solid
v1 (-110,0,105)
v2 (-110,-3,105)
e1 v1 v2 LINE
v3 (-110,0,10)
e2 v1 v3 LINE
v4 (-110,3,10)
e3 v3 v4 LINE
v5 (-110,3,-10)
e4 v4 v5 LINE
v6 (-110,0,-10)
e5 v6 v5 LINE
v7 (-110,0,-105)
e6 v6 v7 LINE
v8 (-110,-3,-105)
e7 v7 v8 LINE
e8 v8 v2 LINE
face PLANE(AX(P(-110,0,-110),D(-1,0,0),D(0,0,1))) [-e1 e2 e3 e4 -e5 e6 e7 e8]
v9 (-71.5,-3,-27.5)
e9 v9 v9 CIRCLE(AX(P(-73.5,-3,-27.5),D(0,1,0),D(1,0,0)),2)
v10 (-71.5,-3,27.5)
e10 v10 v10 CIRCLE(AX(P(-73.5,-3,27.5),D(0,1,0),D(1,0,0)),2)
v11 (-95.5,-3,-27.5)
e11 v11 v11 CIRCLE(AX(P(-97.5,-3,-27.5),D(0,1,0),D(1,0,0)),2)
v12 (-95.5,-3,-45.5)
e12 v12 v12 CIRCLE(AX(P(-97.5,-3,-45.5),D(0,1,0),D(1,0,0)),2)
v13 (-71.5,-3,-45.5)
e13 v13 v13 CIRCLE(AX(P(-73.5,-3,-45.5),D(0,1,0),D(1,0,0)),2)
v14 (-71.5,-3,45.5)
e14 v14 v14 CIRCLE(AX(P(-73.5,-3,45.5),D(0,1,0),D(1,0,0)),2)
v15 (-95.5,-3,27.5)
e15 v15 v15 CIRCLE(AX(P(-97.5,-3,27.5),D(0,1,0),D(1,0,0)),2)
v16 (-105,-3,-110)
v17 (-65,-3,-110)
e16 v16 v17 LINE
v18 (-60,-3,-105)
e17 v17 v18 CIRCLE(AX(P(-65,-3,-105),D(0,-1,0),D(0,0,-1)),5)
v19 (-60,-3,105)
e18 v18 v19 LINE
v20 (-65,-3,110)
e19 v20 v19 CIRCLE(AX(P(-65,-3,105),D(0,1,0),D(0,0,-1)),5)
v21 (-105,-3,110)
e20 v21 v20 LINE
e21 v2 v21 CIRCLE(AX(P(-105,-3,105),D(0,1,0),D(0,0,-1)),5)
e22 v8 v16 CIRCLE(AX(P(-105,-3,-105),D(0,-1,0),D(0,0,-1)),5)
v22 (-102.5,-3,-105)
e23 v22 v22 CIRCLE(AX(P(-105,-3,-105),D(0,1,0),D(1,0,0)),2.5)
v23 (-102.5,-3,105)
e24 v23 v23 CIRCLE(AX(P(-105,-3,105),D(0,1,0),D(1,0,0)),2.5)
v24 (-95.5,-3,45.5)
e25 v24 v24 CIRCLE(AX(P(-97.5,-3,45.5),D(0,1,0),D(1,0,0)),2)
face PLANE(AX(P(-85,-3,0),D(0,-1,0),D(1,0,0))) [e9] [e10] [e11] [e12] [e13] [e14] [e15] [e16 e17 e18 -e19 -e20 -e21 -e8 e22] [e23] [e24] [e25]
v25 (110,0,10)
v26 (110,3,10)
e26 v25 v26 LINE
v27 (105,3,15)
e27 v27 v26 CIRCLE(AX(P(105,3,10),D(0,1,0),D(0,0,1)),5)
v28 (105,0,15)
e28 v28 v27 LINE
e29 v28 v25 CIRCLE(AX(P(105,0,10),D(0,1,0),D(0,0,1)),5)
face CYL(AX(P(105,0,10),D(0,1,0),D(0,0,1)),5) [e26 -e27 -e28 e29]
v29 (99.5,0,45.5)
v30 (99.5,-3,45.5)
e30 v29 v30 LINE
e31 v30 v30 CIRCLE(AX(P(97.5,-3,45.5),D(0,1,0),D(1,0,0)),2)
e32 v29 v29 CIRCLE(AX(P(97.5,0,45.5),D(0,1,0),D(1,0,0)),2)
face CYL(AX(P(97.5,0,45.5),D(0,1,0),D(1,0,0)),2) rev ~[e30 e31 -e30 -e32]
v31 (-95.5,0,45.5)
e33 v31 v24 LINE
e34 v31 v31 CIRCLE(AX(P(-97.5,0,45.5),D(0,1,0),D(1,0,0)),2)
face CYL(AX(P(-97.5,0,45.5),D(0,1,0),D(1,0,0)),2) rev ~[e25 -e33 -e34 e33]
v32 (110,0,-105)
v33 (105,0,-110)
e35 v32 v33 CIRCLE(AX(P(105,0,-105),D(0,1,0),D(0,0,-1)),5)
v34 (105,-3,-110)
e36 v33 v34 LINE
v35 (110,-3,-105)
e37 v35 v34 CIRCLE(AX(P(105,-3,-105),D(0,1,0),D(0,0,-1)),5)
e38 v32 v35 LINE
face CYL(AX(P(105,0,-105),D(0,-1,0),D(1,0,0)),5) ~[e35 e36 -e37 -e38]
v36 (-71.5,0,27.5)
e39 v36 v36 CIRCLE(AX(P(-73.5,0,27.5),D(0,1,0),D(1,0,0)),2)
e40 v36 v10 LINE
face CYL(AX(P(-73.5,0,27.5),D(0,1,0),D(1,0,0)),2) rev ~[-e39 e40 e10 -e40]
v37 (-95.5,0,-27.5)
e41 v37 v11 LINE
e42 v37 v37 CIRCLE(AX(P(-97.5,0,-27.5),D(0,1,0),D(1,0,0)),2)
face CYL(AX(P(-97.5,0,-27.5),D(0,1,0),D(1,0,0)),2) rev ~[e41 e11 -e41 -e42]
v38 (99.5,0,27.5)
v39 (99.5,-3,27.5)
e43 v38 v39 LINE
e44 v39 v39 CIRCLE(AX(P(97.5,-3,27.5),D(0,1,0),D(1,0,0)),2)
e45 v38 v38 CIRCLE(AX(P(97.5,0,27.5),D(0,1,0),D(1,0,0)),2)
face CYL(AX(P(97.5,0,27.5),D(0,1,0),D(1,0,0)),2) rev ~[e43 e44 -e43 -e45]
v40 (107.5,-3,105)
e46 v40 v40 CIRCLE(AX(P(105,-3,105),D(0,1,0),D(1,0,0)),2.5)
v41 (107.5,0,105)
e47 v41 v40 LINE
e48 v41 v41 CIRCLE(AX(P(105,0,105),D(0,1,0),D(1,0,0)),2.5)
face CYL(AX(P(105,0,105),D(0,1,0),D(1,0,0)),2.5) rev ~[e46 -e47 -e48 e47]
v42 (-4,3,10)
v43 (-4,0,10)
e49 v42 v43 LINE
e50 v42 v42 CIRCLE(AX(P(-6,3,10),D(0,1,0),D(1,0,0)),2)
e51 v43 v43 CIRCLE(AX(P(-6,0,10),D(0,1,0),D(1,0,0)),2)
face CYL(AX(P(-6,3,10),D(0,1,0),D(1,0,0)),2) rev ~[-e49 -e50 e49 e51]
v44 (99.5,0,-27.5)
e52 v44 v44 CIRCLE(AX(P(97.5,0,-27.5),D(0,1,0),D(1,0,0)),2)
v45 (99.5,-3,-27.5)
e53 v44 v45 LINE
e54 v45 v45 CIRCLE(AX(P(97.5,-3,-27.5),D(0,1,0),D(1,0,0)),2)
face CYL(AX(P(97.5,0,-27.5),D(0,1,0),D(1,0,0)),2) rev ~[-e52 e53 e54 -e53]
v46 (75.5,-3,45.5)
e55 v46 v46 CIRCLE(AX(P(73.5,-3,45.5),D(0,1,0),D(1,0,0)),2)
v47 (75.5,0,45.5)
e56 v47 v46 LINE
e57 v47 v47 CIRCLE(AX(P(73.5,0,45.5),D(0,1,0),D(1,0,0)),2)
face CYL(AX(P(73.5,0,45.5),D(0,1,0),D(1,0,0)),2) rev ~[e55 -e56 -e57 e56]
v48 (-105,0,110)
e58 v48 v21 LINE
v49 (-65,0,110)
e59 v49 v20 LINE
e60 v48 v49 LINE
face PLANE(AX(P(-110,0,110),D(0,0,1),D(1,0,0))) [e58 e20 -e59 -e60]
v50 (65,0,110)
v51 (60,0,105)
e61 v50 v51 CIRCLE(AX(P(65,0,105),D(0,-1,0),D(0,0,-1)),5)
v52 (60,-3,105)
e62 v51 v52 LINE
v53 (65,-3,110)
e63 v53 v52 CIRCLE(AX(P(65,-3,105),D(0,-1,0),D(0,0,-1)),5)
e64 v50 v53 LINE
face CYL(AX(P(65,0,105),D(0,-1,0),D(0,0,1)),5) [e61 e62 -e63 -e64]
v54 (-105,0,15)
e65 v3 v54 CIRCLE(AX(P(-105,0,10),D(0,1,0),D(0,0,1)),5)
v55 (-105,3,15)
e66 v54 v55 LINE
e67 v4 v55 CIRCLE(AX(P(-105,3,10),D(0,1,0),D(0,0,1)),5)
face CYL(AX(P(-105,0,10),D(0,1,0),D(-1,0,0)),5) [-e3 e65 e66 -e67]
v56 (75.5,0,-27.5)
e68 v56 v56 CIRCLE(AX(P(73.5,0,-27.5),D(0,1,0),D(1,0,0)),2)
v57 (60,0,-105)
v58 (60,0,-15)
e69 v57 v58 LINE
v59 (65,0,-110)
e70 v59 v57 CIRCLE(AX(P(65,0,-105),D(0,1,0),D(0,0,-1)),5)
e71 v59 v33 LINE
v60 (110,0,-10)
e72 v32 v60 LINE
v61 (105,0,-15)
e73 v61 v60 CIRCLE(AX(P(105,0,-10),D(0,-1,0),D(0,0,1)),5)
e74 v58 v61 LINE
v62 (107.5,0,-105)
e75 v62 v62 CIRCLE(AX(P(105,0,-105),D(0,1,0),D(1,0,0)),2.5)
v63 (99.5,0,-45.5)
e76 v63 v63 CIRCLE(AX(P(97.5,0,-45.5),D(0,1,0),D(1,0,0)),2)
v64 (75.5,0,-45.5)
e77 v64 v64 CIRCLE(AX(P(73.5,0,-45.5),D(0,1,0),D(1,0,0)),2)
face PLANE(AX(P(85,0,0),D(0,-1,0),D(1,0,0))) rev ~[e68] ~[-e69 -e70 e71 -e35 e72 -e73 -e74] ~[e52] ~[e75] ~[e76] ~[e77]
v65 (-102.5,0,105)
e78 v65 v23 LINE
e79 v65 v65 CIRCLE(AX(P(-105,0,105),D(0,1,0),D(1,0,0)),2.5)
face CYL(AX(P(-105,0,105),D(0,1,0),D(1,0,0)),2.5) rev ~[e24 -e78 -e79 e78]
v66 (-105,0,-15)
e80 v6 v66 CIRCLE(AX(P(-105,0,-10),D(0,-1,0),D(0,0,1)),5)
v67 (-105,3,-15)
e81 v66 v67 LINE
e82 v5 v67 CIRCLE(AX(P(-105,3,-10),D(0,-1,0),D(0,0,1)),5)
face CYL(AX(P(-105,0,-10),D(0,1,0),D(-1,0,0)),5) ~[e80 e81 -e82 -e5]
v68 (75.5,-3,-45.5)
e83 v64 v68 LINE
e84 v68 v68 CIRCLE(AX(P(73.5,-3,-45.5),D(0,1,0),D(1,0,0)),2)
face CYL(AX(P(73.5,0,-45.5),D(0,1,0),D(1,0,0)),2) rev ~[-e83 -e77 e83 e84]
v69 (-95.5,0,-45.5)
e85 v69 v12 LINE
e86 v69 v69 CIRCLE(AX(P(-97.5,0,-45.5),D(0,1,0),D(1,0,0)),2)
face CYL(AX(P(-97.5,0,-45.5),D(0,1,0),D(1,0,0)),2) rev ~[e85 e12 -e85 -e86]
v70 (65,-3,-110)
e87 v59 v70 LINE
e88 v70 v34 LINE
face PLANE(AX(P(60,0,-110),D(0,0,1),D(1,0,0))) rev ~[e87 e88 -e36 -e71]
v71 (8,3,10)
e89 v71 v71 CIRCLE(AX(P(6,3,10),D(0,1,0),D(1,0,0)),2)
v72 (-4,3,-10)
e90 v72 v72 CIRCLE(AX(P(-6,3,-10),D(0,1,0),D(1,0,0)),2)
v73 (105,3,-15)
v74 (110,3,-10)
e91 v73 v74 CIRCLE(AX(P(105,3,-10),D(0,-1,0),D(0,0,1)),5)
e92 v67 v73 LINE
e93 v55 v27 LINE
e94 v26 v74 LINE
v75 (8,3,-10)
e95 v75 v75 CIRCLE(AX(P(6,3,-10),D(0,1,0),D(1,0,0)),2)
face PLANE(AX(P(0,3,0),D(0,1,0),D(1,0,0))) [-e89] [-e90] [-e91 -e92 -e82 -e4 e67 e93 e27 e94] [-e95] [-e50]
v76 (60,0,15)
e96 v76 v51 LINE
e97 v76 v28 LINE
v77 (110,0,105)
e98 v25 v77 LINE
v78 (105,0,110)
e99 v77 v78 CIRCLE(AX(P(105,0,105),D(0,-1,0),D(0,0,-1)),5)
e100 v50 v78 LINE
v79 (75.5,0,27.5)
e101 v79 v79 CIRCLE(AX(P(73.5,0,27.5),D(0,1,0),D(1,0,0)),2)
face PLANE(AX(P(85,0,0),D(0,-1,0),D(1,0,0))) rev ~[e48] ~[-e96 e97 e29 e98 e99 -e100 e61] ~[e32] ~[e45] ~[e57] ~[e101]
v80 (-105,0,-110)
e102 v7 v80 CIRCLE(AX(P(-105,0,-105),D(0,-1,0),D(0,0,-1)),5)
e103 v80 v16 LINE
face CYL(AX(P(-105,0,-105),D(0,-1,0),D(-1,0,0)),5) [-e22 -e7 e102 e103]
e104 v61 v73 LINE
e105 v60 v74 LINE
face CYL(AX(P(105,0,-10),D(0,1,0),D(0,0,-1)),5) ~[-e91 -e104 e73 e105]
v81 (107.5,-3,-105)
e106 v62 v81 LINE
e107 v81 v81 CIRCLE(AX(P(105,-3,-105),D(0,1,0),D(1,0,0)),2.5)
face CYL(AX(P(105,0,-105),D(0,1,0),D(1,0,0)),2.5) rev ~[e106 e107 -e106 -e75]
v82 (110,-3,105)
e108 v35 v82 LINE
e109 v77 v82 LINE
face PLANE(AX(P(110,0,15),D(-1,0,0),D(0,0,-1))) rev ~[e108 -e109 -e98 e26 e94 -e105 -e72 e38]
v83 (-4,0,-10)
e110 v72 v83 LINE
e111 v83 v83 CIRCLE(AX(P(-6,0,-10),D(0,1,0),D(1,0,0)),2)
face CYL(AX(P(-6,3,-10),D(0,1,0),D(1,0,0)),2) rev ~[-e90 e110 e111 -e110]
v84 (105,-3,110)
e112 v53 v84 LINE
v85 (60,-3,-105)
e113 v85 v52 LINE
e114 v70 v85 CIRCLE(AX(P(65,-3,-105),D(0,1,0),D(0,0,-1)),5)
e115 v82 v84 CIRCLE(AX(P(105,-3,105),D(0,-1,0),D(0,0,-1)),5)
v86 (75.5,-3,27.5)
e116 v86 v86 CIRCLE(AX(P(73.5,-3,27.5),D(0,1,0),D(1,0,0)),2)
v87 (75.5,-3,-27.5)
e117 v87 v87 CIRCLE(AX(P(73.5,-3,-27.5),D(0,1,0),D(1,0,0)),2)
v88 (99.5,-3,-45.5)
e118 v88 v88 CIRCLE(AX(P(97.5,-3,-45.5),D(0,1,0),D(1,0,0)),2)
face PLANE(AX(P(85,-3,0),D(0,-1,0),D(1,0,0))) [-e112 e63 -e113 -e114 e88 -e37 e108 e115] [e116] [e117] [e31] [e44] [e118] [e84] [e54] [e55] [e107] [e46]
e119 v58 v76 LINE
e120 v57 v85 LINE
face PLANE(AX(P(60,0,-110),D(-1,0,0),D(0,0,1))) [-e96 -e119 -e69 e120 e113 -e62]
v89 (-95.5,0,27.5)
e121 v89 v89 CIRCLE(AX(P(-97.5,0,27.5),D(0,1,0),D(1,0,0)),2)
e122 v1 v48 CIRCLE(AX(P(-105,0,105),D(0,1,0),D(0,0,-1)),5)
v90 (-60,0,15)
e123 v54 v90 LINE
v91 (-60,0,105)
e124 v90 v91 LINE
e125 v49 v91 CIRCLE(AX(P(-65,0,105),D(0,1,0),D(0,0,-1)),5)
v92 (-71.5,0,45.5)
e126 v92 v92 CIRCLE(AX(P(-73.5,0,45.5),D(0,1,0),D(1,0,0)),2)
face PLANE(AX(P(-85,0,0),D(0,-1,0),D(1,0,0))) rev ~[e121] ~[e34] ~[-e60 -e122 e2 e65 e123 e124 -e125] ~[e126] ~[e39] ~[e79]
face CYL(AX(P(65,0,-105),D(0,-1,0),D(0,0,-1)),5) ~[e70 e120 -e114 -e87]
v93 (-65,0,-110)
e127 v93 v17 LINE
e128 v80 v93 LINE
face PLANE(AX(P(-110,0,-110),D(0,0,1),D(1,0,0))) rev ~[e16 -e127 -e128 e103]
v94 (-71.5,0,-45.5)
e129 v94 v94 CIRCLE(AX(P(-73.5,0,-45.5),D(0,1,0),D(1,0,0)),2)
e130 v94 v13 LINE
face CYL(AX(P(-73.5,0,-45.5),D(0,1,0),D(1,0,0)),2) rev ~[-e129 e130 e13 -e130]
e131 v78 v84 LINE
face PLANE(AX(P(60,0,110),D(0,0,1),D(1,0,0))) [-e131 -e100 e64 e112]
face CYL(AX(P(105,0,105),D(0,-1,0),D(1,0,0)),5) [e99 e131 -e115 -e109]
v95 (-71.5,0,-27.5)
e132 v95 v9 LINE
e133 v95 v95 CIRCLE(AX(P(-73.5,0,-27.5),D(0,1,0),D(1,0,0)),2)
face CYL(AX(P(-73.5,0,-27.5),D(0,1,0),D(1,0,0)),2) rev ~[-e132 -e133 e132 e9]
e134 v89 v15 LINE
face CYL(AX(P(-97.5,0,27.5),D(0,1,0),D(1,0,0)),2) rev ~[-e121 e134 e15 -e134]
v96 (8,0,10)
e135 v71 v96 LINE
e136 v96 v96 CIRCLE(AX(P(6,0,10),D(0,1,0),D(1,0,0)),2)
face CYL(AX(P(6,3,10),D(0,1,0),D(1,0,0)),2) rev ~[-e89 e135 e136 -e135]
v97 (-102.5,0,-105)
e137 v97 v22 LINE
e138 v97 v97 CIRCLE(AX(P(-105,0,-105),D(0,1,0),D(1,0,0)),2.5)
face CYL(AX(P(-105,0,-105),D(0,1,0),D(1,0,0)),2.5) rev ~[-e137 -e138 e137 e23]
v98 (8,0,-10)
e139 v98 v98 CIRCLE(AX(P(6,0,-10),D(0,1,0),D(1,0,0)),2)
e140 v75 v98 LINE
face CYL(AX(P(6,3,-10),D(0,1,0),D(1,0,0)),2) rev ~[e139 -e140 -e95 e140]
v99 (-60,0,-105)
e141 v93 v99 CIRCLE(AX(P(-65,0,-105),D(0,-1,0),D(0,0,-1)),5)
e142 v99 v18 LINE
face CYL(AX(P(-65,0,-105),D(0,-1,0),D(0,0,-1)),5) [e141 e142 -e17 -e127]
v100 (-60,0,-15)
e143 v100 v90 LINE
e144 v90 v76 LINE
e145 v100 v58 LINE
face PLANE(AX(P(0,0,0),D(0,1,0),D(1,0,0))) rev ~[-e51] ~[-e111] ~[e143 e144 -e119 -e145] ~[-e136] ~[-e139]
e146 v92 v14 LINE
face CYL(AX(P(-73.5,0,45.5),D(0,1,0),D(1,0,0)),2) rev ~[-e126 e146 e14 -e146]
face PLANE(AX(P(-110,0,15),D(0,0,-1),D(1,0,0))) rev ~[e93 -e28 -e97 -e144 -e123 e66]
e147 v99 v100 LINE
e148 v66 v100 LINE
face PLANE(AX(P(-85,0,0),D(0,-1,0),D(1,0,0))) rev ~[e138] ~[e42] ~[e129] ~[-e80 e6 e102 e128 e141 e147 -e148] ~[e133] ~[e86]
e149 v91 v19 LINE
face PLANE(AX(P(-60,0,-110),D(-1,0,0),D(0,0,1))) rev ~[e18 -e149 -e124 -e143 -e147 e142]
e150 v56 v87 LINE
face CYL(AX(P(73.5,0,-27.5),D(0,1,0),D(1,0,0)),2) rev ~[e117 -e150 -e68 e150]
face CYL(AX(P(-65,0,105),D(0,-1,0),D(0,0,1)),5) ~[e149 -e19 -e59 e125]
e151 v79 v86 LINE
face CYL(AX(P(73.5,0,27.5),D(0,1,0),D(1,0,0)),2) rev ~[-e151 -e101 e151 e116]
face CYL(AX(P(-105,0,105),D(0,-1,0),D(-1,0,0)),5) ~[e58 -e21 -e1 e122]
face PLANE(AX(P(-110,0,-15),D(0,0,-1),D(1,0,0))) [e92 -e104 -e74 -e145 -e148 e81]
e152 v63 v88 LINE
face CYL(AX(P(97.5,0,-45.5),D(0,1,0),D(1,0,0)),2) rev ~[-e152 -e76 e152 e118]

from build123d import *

# Parameters (mm, degrees)
SKETCH1_W           = 220
SKETCH1_H           = 30
BOSS_EXTRUDE1_DEPTH = 3
SKETCH2_W           = 50
SKETCH2_H           = 220
BOSS_EXTRUDE2_DEPTH = 3
SKETCH3_R           = 2.5
CUT_EXTRUDE1_DEPTH  = 3
FILLET1_R           = 5
CUT_EXTRUDE2_REACH  = 5
SKETCH4_R           = 2
CUT_EXTRUDE3_REACH  = 8
SKETCH5_R           = 2


with BuildPart() as part:
    # Sketch1 → Boss-Extrude1 (new body)
    with BuildSketch(Plane(origin=(0, 0, 0), x_dir=(1, 0, 0), z_dir=(0, 1, 0))):
        Rectangle(SKETCH1_W, SKETCH1_H)
    extrude(amount=BOSS_EXTRUDE1_DEPTH)

    # Sketch2 → Boss-Extrude2 (add)
    with BuildSketch(Plane.XZ):
        with Locations((-85, 0)):
            Rectangle(SKETCH2_W, SKETCH2_H)
        with Locations((85, 0)):
            Rectangle(SKETCH2_W, SKETCH2_H)
    extrude(amount=BOSS_EXTRUDE2_DEPTH)

    # Sketch3 → Cut-Extrude1 (cut)
    with BuildSketch(Plane(origin=(0, 0, 0), x_dir=(1, 0, 0), z_dir=(0, 1, 0))):
        with Locations((-105, 105)):
            Circle(SKETCH3_R)
        with Locations((105, 105)):
            Circle(SKETCH3_R)
        with Locations((105, -105)):
            Circle(SKETCH3_R)
        with Locations((-105, -105)):
            Circle(SKETCH3_R)
    extrude(amount=-CUT_EXTRUDE1_DEPTH, mode=Mode.SUBTRACT)

    # Fillet1
    fillet1_edges = [part.edges().sort_by_distance(p)[0] for p in [
        (-60, -1.5, -110),
        (-60, -1.5, 110),
        (-110, -1.5, 110),
        (-110, -1.5, -110),
        (110, -1.5, -110),
        (110, -1.5, 110),
        (60, -1.5, 110),
        (60, -1.5, -110),
        (110, 1.5, 15),
        (-110, 1.5, 15),
        (-110, 1.5, -15),
        (110, 1.5, -15),
    ]]
    fillet(fillet1_edges, radius=FILLET1_R)

    # Sketch4 → Cut-Extrude2 (cut, up to next)
    with BuildSketch(Plane(origin=(0, 0, 0), x_dir=(1, 0, 0), z_dir=(0, 1, 0)), mode=Mode.PRIVATE) as cut_extrude2_sk1:
        with Locations((-97.5, 27.5)):
            Circle(SKETCH4_R)
    cut_extrude2_tool1 = extrude(cut_extrude2_sk1.sketch, amount=-CUT_EXTRUDE2_REACH, mode=Mode.PRIVATE) & part.part
    add(cut_extrude2_tool1.solids().sort_by_distance((-97.5, 0, -27.5))[0], mode=Mode.SUBTRACT)
    # Sketch4 → Cut-Extrude2 (cut, up to next)
    with BuildSketch(Plane(origin=(0, 0, 0), x_dir=(1, 0, 0), z_dir=(0, 1, 0)), mode=Mode.PRIVATE) as cut_extrude2_sk2:
        with Locations((-73.5, 27.5)):
            Circle(SKETCH4_R)
    cut_extrude2_tool2 = extrude(cut_extrude2_sk2.sketch, amount=-CUT_EXTRUDE2_REACH, mode=Mode.PRIVATE) & part.part
    add(cut_extrude2_tool2.solids().sort_by_distance((-73.5, 0, -27.5))[0], mode=Mode.SUBTRACT)
    # Sketch4 → Cut-Extrude2 (cut, up to next)
    with BuildSketch(Plane(origin=(0, 0, 0), x_dir=(1, 0, 0), z_dir=(0, 1, 0)), mode=Mode.PRIVATE) as cut_extrude2_sk3:
        with Locations((-73.5, 45.5)):
            Circle(SKETCH4_R)
    cut_extrude2_tool3 = extrude(cut_extrude2_sk3.sketch, amount=-CUT_EXTRUDE2_REACH, mode=Mode.PRIVATE) & part.part
    add(cut_extrude2_tool3.solids().sort_by_distance((-73.5, 0, -45.5))[0], mode=Mode.SUBTRACT)
    # Sketch4 → Cut-Extrude2 (cut, up to next)
    with BuildSketch(Plane(origin=(0, 0, 0), x_dir=(1, 0, 0), z_dir=(0, 1, 0)), mode=Mode.PRIVATE) as cut_extrude2_sk4:
        with Locations((-97.5, 45.5)):
            Circle(SKETCH4_R)
    cut_extrude2_tool4 = extrude(cut_extrude2_sk4.sketch, amount=-CUT_EXTRUDE2_REACH, mode=Mode.PRIVATE) & part.part
    add(cut_extrude2_tool4.solids().sort_by_distance((-97.5, 0, -45.5))[0], mode=Mode.SUBTRACT)
    # Sketch4 → Cut-Extrude2 (cut, up to next)
    with BuildSketch(Plane(origin=(0, 0, 0), x_dir=(1, 0, 0), z_dir=(0, 1, 0)), mode=Mode.PRIVATE) as cut_extrude2_sk5:
        with Locations((97.5, 45.5)):
            Circle(SKETCH4_R)
    cut_extrude2_tool5 = extrude(cut_extrude2_sk5.sketch, amount=-CUT_EXTRUDE2_REACH, mode=Mode.PRIVATE) & part.part
    add(cut_extrude2_tool5.solids().sort_by_distance((97.5, 0, -45.5))[0], mode=Mode.SUBTRACT)
    # Sketch4 → Cut-Extrude2 (cut, up to next)
    with BuildSketch(Plane(origin=(0, 0, 0), x_dir=(1, 0, 0), z_dir=(0, 1, 0)), mode=Mode.PRIVATE) as cut_extrude2_sk6:
        with Locations((73.5, 45.5)):
            Circle(SKETCH4_R)
    cut_extrude2_tool6 = extrude(cut_extrude2_sk6.sketch, amount=-CUT_EXTRUDE2_REACH, mode=Mode.PRIVATE) & part.part
    add(cut_extrude2_tool6.solids().sort_by_distance((73.5, 0, -45.5))[0], mode=Mode.SUBTRACT)
    # Sketch4 → Cut-Extrude2 (cut, up to next)
    with BuildSketch(Plane(origin=(0, 0, 0), x_dir=(1, 0, 0), z_dir=(0, 1, 0)), mode=Mode.PRIVATE) as cut_extrude2_sk7:
        with Locations((73.5, 27.5)):
            Circle(SKETCH4_R)
    cut_extrude2_tool7 = extrude(cut_extrude2_sk7.sketch, amount=-CUT_EXTRUDE2_REACH, mode=Mode.PRIVATE) & part.part
    add(cut_extrude2_tool7.solids().sort_by_distance((73.5, 0, -27.5))[0], mode=Mode.SUBTRACT)
    # Sketch4 → Cut-Extrude2 (cut, up to next)
    with BuildSketch(Plane(origin=(0, 0, 0), x_dir=(1, 0, 0), z_dir=(0, 1, 0)), mode=Mode.PRIVATE) as cut_extrude2_sk8:
        with Locations((97.5, 27.5)):
            Circle(SKETCH4_R)
    cut_extrude2_tool8 = extrude(cut_extrude2_sk8.sketch, amount=-CUT_EXTRUDE2_REACH, mode=Mode.PRIVATE) & part.part
    add(cut_extrude2_tool8.solids().sort_by_distance((97.5, 0, -27.5))[0], mode=Mode.SUBTRACT)
    # Sketch4 → Cut-Extrude2 (cut, up to next)
    with BuildSketch(Plane(origin=(0, 0, 0), x_dir=(1, 0, 0), z_dir=(0, 1, 0)), mode=Mode.PRIVATE) as cut_extrude2_sk9:
        with Locations((97.5, -27.5)):
            Circle(SKETCH4_R)
    cut_extrude2_tool9 = extrude(cut_extrude2_sk9.sketch, amount=-CUT_EXTRUDE2_REACH, mode=Mode.PRIVATE) & part.part
    add(cut_extrude2_tool9.solids().sort_by_distance((97.5, 0, 27.5))[0], mode=Mode.SUBTRACT)
    # Sketch4 → Cut-Extrude2 (cut, up to next)
    with BuildSketch(Plane(origin=(0, 0, 0), x_dir=(1, 0, 0), z_dir=(0, 1, 0)), mode=Mode.PRIVATE) as cut_extrude2_sk10:
        with Locations((73.5, -27.5)):
            Circle(SKETCH4_R)
    cut_extrude2_tool10 = extrude(cut_extrude2_sk10.sketch, amount=-CUT_EXTRUDE2_REACH, mode=Mode.PRIVATE) & part.part
    add(cut_extrude2_tool10.solids().sort_by_distance((73.5, 0, 27.5))[0], mode=Mode.SUBTRACT)
    # Sketch4 → Cut-Extrude2 (cut, up to next)
    with BuildSketch(Plane(origin=(0, 0, 0), x_dir=(1, 0, 0), z_dir=(0, 1, 0)), mode=Mode.PRIVATE) as cut_extrude2_sk11:
        with Locations((73.5, -45.5)):
            Circle(SKETCH4_R)
    cut_extrude2_tool11 = extrude(cut_extrude2_sk11.sketch, amount=-CUT_EXTRUDE2_REACH, mode=Mode.PRIVATE) & part.part
    add(cut_extrude2_tool11.solids().sort_by_distance((73.5, 0, 45.5))[0], mode=Mode.SUBTRACT)
    # Sketch4 → Cut-Extrude2 (cut, up to next)
    with BuildSketch(Plane(origin=(0, 0, 0), x_dir=(1, 0, 0), z_dir=(0, 1, 0)), mode=Mode.PRIVATE) as cut_extrude2_sk12:
        with Locations((97.5, -45.5)):
            Circle(SKETCH4_R)
    cut_extrude2_tool12 = extrude(cut_extrude2_sk12.sketch, amount=-CUT_EXTRUDE2_REACH, mode=Mode.PRIVATE) & part.part
    add(cut_extrude2_tool12.solids().sort_by_distance((97.5, 0, 45.5))[0], mode=Mode.SUBTRACT)
    # Sketch4 → Cut-Extrude2 (cut, up to next)
    with BuildSketch(Plane(origin=(0, 0, 0), x_dir=(1, 0, 0), z_dir=(0, 1, 0)), mode=Mode.PRIVATE) as cut_extrude2_sk13:
        with Locations((-97.5, -45.5)):
            Circle(SKETCH4_R)
    cut_extrude2_tool13 = extrude(cut_extrude2_sk13.sketch, amount=-CUT_EXTRUDE2_REACH, mode=Mode.PRIVATE) & part.part
    add(cut_extrude2_tool13.solids().sort_by_distance((-97.5, 0, 45.5))[0], mode=Mode.SUBTRACT)
    # Sketch4 → Cut-Extrude2 (cut, up to next)
    with BuildSketch(Plane(origin=(0, 0, 0), x_dir=(1, 0, 0), z_dir=(0, 1, 0)), mode=Mode.PRIVATE) as cut_extrude2_sk14:
        with Locations((-73.5, -45.5)):
            Circle(SKETCH4_R)
    cut_extrude2_tool14 = extrude(cut_extrude2_sk14.sketch, amount=-CUT_EXTRUDE2_REACH, mode=Mode.PRIVATE) & part.part
    add(cut_extrude2_tool14.solids().sort_by_distance((-73.5, 0, 45.5))[0], mode=Mode.SUBTRACT)
    # Sketch4 → Cut-Extrude2 (cut, up to next)
    with BuildSketch(Plane(origin=(0, 0, 0), x_dir=(1, 0, 0), z_dir=(0, 1, 0)), mode=Mode.PRIVATE) as cut_extrude2_sk15:
        with Locations((-73.5, -27.5)):
            Circle(SKETCH4_R)
    cut_extrude2_tool15 = extrude(cut_extrude2_sk15.sketch, amount=-CUT_EXTRUDE2_REACH, mode=Mode.PRIVATE) & part.part
    add(cut_extrude2_tool15.solids().sort_by_distance((-73.5, 0, 27.5))[0], mode=Mode.SUBTRACT)
    # Sketch4 → Cut-Extrude2 (cut, up to next)
    with BuildSketch(Plane(origin=(0, 0, 0), x_dir=(1, 0, 0), z_dir=(0, 1, 0)), mode=Mode.PRIVATE) as cut_extrude2_sk16:
        with Locations((-97.5, -27.5)):
            Circle(SKETCH4_R)
    cut_extrude2_tool16 = extrude(cut_extrude2_sk16.sketch, amount=-CUT_EXTRUDE2_REACH, mode=Mode.PRIVATE) & part.part
    add(cut_extrude2_tool16.solids().sort_by_distance((-97.5, 0, 27.5))[0], mode=Mode.SUBTRACT)

    # Sketch5 → Cut-Extrude3 (cut, up to next)
    with BuildSketch(Plane(origin=(0, 3, 0), x_dir=(1, 0, 0), z_dir=(0, 1, 0)), mode=Mode.PRIVATE) as cut_extrude3_sk1:
        with Locations((-6, 10)):
            Circle(SKETCH5_R)
    cut_extrude3_tool1 = extrude(cut_extrude3_sk1.sketch, amount=-CUT_EXTRUDE3_REACH, mode=Mode.PRIVATE) & part.part
    add(cut_extrude3_tool1.solids().sort_by_distance((-6, 3, -10))[0], mode=Mode.SUBTRACT)
    # Sketch5 → Cut-Extrude3 (cut, up to next)
    with BuildSketch(Plane(origin=(0, 3, 0), x_dir=(1, 0, 0), z_dir=(0, 1, 0)), mode=Mode.PRIVATE) as cut_extrude3_sk2:
        with Locations((6, 10)):
            Circle(SKETCH5_R)
    cut_extrude3_tool2 = extrude(cut_extrude3_sk2.sketch, amount=-CUT_EXTRUDE3_REACH, mode=Mode.PRIVATE) & part.part
    add(cut_extrude3_tool2.solids().sort_by_distance((6, 3, -10))[0], mode=Mode.SUBTRACT)
    # Sketch5 → Cut-Extrude3 (cut, up to next)
    with BuildSketch(Plane(origin=(0, 3, 0), x_dir=(1, 0, 0), z_dir=(0, 1, 0)), mode=Mode.PRIVATE) as cut_extrude3_sk3:
        with Locations((6, -10)):
            Circle(SKETCH5_R)
    cut_extrude3_tool3 = extrude(cut_extrude3_sk3.sketch, amount=-CUT_EXTRUDE3_REACH, mode=Mode.PRIVATE) & part.part
    add(cut_extrude3_tool3.solids().sort_by_distance((6, 3, 10))[0], mode=Mode.SUBTRACT)
    # Sketch5 → Cut-Extrude3 (cut, up to next)
    with BuildSketch(Plane(origin=(0, 3, 0), x_dir=(1, 0, 0), z_dir=(0, 1, 0)), mode=Mode.PRIVATE) as cut_extrude3_sk4:
        with Locations((-6, -10)):
            Circle(SKETCH5_R)
    cut_extrude3_tool4 = extrude(cut_extrude3_sk4.sketch, amount=-CUT_EXTRUDE3_REACH, mode=Mode.PRIVATE) & part.part
    add(cut_extrude3_tool4.solids().sort_by_distance((-6, 3, 10))[0], mode=Mode.SUBTRACT)


solid = part.part
